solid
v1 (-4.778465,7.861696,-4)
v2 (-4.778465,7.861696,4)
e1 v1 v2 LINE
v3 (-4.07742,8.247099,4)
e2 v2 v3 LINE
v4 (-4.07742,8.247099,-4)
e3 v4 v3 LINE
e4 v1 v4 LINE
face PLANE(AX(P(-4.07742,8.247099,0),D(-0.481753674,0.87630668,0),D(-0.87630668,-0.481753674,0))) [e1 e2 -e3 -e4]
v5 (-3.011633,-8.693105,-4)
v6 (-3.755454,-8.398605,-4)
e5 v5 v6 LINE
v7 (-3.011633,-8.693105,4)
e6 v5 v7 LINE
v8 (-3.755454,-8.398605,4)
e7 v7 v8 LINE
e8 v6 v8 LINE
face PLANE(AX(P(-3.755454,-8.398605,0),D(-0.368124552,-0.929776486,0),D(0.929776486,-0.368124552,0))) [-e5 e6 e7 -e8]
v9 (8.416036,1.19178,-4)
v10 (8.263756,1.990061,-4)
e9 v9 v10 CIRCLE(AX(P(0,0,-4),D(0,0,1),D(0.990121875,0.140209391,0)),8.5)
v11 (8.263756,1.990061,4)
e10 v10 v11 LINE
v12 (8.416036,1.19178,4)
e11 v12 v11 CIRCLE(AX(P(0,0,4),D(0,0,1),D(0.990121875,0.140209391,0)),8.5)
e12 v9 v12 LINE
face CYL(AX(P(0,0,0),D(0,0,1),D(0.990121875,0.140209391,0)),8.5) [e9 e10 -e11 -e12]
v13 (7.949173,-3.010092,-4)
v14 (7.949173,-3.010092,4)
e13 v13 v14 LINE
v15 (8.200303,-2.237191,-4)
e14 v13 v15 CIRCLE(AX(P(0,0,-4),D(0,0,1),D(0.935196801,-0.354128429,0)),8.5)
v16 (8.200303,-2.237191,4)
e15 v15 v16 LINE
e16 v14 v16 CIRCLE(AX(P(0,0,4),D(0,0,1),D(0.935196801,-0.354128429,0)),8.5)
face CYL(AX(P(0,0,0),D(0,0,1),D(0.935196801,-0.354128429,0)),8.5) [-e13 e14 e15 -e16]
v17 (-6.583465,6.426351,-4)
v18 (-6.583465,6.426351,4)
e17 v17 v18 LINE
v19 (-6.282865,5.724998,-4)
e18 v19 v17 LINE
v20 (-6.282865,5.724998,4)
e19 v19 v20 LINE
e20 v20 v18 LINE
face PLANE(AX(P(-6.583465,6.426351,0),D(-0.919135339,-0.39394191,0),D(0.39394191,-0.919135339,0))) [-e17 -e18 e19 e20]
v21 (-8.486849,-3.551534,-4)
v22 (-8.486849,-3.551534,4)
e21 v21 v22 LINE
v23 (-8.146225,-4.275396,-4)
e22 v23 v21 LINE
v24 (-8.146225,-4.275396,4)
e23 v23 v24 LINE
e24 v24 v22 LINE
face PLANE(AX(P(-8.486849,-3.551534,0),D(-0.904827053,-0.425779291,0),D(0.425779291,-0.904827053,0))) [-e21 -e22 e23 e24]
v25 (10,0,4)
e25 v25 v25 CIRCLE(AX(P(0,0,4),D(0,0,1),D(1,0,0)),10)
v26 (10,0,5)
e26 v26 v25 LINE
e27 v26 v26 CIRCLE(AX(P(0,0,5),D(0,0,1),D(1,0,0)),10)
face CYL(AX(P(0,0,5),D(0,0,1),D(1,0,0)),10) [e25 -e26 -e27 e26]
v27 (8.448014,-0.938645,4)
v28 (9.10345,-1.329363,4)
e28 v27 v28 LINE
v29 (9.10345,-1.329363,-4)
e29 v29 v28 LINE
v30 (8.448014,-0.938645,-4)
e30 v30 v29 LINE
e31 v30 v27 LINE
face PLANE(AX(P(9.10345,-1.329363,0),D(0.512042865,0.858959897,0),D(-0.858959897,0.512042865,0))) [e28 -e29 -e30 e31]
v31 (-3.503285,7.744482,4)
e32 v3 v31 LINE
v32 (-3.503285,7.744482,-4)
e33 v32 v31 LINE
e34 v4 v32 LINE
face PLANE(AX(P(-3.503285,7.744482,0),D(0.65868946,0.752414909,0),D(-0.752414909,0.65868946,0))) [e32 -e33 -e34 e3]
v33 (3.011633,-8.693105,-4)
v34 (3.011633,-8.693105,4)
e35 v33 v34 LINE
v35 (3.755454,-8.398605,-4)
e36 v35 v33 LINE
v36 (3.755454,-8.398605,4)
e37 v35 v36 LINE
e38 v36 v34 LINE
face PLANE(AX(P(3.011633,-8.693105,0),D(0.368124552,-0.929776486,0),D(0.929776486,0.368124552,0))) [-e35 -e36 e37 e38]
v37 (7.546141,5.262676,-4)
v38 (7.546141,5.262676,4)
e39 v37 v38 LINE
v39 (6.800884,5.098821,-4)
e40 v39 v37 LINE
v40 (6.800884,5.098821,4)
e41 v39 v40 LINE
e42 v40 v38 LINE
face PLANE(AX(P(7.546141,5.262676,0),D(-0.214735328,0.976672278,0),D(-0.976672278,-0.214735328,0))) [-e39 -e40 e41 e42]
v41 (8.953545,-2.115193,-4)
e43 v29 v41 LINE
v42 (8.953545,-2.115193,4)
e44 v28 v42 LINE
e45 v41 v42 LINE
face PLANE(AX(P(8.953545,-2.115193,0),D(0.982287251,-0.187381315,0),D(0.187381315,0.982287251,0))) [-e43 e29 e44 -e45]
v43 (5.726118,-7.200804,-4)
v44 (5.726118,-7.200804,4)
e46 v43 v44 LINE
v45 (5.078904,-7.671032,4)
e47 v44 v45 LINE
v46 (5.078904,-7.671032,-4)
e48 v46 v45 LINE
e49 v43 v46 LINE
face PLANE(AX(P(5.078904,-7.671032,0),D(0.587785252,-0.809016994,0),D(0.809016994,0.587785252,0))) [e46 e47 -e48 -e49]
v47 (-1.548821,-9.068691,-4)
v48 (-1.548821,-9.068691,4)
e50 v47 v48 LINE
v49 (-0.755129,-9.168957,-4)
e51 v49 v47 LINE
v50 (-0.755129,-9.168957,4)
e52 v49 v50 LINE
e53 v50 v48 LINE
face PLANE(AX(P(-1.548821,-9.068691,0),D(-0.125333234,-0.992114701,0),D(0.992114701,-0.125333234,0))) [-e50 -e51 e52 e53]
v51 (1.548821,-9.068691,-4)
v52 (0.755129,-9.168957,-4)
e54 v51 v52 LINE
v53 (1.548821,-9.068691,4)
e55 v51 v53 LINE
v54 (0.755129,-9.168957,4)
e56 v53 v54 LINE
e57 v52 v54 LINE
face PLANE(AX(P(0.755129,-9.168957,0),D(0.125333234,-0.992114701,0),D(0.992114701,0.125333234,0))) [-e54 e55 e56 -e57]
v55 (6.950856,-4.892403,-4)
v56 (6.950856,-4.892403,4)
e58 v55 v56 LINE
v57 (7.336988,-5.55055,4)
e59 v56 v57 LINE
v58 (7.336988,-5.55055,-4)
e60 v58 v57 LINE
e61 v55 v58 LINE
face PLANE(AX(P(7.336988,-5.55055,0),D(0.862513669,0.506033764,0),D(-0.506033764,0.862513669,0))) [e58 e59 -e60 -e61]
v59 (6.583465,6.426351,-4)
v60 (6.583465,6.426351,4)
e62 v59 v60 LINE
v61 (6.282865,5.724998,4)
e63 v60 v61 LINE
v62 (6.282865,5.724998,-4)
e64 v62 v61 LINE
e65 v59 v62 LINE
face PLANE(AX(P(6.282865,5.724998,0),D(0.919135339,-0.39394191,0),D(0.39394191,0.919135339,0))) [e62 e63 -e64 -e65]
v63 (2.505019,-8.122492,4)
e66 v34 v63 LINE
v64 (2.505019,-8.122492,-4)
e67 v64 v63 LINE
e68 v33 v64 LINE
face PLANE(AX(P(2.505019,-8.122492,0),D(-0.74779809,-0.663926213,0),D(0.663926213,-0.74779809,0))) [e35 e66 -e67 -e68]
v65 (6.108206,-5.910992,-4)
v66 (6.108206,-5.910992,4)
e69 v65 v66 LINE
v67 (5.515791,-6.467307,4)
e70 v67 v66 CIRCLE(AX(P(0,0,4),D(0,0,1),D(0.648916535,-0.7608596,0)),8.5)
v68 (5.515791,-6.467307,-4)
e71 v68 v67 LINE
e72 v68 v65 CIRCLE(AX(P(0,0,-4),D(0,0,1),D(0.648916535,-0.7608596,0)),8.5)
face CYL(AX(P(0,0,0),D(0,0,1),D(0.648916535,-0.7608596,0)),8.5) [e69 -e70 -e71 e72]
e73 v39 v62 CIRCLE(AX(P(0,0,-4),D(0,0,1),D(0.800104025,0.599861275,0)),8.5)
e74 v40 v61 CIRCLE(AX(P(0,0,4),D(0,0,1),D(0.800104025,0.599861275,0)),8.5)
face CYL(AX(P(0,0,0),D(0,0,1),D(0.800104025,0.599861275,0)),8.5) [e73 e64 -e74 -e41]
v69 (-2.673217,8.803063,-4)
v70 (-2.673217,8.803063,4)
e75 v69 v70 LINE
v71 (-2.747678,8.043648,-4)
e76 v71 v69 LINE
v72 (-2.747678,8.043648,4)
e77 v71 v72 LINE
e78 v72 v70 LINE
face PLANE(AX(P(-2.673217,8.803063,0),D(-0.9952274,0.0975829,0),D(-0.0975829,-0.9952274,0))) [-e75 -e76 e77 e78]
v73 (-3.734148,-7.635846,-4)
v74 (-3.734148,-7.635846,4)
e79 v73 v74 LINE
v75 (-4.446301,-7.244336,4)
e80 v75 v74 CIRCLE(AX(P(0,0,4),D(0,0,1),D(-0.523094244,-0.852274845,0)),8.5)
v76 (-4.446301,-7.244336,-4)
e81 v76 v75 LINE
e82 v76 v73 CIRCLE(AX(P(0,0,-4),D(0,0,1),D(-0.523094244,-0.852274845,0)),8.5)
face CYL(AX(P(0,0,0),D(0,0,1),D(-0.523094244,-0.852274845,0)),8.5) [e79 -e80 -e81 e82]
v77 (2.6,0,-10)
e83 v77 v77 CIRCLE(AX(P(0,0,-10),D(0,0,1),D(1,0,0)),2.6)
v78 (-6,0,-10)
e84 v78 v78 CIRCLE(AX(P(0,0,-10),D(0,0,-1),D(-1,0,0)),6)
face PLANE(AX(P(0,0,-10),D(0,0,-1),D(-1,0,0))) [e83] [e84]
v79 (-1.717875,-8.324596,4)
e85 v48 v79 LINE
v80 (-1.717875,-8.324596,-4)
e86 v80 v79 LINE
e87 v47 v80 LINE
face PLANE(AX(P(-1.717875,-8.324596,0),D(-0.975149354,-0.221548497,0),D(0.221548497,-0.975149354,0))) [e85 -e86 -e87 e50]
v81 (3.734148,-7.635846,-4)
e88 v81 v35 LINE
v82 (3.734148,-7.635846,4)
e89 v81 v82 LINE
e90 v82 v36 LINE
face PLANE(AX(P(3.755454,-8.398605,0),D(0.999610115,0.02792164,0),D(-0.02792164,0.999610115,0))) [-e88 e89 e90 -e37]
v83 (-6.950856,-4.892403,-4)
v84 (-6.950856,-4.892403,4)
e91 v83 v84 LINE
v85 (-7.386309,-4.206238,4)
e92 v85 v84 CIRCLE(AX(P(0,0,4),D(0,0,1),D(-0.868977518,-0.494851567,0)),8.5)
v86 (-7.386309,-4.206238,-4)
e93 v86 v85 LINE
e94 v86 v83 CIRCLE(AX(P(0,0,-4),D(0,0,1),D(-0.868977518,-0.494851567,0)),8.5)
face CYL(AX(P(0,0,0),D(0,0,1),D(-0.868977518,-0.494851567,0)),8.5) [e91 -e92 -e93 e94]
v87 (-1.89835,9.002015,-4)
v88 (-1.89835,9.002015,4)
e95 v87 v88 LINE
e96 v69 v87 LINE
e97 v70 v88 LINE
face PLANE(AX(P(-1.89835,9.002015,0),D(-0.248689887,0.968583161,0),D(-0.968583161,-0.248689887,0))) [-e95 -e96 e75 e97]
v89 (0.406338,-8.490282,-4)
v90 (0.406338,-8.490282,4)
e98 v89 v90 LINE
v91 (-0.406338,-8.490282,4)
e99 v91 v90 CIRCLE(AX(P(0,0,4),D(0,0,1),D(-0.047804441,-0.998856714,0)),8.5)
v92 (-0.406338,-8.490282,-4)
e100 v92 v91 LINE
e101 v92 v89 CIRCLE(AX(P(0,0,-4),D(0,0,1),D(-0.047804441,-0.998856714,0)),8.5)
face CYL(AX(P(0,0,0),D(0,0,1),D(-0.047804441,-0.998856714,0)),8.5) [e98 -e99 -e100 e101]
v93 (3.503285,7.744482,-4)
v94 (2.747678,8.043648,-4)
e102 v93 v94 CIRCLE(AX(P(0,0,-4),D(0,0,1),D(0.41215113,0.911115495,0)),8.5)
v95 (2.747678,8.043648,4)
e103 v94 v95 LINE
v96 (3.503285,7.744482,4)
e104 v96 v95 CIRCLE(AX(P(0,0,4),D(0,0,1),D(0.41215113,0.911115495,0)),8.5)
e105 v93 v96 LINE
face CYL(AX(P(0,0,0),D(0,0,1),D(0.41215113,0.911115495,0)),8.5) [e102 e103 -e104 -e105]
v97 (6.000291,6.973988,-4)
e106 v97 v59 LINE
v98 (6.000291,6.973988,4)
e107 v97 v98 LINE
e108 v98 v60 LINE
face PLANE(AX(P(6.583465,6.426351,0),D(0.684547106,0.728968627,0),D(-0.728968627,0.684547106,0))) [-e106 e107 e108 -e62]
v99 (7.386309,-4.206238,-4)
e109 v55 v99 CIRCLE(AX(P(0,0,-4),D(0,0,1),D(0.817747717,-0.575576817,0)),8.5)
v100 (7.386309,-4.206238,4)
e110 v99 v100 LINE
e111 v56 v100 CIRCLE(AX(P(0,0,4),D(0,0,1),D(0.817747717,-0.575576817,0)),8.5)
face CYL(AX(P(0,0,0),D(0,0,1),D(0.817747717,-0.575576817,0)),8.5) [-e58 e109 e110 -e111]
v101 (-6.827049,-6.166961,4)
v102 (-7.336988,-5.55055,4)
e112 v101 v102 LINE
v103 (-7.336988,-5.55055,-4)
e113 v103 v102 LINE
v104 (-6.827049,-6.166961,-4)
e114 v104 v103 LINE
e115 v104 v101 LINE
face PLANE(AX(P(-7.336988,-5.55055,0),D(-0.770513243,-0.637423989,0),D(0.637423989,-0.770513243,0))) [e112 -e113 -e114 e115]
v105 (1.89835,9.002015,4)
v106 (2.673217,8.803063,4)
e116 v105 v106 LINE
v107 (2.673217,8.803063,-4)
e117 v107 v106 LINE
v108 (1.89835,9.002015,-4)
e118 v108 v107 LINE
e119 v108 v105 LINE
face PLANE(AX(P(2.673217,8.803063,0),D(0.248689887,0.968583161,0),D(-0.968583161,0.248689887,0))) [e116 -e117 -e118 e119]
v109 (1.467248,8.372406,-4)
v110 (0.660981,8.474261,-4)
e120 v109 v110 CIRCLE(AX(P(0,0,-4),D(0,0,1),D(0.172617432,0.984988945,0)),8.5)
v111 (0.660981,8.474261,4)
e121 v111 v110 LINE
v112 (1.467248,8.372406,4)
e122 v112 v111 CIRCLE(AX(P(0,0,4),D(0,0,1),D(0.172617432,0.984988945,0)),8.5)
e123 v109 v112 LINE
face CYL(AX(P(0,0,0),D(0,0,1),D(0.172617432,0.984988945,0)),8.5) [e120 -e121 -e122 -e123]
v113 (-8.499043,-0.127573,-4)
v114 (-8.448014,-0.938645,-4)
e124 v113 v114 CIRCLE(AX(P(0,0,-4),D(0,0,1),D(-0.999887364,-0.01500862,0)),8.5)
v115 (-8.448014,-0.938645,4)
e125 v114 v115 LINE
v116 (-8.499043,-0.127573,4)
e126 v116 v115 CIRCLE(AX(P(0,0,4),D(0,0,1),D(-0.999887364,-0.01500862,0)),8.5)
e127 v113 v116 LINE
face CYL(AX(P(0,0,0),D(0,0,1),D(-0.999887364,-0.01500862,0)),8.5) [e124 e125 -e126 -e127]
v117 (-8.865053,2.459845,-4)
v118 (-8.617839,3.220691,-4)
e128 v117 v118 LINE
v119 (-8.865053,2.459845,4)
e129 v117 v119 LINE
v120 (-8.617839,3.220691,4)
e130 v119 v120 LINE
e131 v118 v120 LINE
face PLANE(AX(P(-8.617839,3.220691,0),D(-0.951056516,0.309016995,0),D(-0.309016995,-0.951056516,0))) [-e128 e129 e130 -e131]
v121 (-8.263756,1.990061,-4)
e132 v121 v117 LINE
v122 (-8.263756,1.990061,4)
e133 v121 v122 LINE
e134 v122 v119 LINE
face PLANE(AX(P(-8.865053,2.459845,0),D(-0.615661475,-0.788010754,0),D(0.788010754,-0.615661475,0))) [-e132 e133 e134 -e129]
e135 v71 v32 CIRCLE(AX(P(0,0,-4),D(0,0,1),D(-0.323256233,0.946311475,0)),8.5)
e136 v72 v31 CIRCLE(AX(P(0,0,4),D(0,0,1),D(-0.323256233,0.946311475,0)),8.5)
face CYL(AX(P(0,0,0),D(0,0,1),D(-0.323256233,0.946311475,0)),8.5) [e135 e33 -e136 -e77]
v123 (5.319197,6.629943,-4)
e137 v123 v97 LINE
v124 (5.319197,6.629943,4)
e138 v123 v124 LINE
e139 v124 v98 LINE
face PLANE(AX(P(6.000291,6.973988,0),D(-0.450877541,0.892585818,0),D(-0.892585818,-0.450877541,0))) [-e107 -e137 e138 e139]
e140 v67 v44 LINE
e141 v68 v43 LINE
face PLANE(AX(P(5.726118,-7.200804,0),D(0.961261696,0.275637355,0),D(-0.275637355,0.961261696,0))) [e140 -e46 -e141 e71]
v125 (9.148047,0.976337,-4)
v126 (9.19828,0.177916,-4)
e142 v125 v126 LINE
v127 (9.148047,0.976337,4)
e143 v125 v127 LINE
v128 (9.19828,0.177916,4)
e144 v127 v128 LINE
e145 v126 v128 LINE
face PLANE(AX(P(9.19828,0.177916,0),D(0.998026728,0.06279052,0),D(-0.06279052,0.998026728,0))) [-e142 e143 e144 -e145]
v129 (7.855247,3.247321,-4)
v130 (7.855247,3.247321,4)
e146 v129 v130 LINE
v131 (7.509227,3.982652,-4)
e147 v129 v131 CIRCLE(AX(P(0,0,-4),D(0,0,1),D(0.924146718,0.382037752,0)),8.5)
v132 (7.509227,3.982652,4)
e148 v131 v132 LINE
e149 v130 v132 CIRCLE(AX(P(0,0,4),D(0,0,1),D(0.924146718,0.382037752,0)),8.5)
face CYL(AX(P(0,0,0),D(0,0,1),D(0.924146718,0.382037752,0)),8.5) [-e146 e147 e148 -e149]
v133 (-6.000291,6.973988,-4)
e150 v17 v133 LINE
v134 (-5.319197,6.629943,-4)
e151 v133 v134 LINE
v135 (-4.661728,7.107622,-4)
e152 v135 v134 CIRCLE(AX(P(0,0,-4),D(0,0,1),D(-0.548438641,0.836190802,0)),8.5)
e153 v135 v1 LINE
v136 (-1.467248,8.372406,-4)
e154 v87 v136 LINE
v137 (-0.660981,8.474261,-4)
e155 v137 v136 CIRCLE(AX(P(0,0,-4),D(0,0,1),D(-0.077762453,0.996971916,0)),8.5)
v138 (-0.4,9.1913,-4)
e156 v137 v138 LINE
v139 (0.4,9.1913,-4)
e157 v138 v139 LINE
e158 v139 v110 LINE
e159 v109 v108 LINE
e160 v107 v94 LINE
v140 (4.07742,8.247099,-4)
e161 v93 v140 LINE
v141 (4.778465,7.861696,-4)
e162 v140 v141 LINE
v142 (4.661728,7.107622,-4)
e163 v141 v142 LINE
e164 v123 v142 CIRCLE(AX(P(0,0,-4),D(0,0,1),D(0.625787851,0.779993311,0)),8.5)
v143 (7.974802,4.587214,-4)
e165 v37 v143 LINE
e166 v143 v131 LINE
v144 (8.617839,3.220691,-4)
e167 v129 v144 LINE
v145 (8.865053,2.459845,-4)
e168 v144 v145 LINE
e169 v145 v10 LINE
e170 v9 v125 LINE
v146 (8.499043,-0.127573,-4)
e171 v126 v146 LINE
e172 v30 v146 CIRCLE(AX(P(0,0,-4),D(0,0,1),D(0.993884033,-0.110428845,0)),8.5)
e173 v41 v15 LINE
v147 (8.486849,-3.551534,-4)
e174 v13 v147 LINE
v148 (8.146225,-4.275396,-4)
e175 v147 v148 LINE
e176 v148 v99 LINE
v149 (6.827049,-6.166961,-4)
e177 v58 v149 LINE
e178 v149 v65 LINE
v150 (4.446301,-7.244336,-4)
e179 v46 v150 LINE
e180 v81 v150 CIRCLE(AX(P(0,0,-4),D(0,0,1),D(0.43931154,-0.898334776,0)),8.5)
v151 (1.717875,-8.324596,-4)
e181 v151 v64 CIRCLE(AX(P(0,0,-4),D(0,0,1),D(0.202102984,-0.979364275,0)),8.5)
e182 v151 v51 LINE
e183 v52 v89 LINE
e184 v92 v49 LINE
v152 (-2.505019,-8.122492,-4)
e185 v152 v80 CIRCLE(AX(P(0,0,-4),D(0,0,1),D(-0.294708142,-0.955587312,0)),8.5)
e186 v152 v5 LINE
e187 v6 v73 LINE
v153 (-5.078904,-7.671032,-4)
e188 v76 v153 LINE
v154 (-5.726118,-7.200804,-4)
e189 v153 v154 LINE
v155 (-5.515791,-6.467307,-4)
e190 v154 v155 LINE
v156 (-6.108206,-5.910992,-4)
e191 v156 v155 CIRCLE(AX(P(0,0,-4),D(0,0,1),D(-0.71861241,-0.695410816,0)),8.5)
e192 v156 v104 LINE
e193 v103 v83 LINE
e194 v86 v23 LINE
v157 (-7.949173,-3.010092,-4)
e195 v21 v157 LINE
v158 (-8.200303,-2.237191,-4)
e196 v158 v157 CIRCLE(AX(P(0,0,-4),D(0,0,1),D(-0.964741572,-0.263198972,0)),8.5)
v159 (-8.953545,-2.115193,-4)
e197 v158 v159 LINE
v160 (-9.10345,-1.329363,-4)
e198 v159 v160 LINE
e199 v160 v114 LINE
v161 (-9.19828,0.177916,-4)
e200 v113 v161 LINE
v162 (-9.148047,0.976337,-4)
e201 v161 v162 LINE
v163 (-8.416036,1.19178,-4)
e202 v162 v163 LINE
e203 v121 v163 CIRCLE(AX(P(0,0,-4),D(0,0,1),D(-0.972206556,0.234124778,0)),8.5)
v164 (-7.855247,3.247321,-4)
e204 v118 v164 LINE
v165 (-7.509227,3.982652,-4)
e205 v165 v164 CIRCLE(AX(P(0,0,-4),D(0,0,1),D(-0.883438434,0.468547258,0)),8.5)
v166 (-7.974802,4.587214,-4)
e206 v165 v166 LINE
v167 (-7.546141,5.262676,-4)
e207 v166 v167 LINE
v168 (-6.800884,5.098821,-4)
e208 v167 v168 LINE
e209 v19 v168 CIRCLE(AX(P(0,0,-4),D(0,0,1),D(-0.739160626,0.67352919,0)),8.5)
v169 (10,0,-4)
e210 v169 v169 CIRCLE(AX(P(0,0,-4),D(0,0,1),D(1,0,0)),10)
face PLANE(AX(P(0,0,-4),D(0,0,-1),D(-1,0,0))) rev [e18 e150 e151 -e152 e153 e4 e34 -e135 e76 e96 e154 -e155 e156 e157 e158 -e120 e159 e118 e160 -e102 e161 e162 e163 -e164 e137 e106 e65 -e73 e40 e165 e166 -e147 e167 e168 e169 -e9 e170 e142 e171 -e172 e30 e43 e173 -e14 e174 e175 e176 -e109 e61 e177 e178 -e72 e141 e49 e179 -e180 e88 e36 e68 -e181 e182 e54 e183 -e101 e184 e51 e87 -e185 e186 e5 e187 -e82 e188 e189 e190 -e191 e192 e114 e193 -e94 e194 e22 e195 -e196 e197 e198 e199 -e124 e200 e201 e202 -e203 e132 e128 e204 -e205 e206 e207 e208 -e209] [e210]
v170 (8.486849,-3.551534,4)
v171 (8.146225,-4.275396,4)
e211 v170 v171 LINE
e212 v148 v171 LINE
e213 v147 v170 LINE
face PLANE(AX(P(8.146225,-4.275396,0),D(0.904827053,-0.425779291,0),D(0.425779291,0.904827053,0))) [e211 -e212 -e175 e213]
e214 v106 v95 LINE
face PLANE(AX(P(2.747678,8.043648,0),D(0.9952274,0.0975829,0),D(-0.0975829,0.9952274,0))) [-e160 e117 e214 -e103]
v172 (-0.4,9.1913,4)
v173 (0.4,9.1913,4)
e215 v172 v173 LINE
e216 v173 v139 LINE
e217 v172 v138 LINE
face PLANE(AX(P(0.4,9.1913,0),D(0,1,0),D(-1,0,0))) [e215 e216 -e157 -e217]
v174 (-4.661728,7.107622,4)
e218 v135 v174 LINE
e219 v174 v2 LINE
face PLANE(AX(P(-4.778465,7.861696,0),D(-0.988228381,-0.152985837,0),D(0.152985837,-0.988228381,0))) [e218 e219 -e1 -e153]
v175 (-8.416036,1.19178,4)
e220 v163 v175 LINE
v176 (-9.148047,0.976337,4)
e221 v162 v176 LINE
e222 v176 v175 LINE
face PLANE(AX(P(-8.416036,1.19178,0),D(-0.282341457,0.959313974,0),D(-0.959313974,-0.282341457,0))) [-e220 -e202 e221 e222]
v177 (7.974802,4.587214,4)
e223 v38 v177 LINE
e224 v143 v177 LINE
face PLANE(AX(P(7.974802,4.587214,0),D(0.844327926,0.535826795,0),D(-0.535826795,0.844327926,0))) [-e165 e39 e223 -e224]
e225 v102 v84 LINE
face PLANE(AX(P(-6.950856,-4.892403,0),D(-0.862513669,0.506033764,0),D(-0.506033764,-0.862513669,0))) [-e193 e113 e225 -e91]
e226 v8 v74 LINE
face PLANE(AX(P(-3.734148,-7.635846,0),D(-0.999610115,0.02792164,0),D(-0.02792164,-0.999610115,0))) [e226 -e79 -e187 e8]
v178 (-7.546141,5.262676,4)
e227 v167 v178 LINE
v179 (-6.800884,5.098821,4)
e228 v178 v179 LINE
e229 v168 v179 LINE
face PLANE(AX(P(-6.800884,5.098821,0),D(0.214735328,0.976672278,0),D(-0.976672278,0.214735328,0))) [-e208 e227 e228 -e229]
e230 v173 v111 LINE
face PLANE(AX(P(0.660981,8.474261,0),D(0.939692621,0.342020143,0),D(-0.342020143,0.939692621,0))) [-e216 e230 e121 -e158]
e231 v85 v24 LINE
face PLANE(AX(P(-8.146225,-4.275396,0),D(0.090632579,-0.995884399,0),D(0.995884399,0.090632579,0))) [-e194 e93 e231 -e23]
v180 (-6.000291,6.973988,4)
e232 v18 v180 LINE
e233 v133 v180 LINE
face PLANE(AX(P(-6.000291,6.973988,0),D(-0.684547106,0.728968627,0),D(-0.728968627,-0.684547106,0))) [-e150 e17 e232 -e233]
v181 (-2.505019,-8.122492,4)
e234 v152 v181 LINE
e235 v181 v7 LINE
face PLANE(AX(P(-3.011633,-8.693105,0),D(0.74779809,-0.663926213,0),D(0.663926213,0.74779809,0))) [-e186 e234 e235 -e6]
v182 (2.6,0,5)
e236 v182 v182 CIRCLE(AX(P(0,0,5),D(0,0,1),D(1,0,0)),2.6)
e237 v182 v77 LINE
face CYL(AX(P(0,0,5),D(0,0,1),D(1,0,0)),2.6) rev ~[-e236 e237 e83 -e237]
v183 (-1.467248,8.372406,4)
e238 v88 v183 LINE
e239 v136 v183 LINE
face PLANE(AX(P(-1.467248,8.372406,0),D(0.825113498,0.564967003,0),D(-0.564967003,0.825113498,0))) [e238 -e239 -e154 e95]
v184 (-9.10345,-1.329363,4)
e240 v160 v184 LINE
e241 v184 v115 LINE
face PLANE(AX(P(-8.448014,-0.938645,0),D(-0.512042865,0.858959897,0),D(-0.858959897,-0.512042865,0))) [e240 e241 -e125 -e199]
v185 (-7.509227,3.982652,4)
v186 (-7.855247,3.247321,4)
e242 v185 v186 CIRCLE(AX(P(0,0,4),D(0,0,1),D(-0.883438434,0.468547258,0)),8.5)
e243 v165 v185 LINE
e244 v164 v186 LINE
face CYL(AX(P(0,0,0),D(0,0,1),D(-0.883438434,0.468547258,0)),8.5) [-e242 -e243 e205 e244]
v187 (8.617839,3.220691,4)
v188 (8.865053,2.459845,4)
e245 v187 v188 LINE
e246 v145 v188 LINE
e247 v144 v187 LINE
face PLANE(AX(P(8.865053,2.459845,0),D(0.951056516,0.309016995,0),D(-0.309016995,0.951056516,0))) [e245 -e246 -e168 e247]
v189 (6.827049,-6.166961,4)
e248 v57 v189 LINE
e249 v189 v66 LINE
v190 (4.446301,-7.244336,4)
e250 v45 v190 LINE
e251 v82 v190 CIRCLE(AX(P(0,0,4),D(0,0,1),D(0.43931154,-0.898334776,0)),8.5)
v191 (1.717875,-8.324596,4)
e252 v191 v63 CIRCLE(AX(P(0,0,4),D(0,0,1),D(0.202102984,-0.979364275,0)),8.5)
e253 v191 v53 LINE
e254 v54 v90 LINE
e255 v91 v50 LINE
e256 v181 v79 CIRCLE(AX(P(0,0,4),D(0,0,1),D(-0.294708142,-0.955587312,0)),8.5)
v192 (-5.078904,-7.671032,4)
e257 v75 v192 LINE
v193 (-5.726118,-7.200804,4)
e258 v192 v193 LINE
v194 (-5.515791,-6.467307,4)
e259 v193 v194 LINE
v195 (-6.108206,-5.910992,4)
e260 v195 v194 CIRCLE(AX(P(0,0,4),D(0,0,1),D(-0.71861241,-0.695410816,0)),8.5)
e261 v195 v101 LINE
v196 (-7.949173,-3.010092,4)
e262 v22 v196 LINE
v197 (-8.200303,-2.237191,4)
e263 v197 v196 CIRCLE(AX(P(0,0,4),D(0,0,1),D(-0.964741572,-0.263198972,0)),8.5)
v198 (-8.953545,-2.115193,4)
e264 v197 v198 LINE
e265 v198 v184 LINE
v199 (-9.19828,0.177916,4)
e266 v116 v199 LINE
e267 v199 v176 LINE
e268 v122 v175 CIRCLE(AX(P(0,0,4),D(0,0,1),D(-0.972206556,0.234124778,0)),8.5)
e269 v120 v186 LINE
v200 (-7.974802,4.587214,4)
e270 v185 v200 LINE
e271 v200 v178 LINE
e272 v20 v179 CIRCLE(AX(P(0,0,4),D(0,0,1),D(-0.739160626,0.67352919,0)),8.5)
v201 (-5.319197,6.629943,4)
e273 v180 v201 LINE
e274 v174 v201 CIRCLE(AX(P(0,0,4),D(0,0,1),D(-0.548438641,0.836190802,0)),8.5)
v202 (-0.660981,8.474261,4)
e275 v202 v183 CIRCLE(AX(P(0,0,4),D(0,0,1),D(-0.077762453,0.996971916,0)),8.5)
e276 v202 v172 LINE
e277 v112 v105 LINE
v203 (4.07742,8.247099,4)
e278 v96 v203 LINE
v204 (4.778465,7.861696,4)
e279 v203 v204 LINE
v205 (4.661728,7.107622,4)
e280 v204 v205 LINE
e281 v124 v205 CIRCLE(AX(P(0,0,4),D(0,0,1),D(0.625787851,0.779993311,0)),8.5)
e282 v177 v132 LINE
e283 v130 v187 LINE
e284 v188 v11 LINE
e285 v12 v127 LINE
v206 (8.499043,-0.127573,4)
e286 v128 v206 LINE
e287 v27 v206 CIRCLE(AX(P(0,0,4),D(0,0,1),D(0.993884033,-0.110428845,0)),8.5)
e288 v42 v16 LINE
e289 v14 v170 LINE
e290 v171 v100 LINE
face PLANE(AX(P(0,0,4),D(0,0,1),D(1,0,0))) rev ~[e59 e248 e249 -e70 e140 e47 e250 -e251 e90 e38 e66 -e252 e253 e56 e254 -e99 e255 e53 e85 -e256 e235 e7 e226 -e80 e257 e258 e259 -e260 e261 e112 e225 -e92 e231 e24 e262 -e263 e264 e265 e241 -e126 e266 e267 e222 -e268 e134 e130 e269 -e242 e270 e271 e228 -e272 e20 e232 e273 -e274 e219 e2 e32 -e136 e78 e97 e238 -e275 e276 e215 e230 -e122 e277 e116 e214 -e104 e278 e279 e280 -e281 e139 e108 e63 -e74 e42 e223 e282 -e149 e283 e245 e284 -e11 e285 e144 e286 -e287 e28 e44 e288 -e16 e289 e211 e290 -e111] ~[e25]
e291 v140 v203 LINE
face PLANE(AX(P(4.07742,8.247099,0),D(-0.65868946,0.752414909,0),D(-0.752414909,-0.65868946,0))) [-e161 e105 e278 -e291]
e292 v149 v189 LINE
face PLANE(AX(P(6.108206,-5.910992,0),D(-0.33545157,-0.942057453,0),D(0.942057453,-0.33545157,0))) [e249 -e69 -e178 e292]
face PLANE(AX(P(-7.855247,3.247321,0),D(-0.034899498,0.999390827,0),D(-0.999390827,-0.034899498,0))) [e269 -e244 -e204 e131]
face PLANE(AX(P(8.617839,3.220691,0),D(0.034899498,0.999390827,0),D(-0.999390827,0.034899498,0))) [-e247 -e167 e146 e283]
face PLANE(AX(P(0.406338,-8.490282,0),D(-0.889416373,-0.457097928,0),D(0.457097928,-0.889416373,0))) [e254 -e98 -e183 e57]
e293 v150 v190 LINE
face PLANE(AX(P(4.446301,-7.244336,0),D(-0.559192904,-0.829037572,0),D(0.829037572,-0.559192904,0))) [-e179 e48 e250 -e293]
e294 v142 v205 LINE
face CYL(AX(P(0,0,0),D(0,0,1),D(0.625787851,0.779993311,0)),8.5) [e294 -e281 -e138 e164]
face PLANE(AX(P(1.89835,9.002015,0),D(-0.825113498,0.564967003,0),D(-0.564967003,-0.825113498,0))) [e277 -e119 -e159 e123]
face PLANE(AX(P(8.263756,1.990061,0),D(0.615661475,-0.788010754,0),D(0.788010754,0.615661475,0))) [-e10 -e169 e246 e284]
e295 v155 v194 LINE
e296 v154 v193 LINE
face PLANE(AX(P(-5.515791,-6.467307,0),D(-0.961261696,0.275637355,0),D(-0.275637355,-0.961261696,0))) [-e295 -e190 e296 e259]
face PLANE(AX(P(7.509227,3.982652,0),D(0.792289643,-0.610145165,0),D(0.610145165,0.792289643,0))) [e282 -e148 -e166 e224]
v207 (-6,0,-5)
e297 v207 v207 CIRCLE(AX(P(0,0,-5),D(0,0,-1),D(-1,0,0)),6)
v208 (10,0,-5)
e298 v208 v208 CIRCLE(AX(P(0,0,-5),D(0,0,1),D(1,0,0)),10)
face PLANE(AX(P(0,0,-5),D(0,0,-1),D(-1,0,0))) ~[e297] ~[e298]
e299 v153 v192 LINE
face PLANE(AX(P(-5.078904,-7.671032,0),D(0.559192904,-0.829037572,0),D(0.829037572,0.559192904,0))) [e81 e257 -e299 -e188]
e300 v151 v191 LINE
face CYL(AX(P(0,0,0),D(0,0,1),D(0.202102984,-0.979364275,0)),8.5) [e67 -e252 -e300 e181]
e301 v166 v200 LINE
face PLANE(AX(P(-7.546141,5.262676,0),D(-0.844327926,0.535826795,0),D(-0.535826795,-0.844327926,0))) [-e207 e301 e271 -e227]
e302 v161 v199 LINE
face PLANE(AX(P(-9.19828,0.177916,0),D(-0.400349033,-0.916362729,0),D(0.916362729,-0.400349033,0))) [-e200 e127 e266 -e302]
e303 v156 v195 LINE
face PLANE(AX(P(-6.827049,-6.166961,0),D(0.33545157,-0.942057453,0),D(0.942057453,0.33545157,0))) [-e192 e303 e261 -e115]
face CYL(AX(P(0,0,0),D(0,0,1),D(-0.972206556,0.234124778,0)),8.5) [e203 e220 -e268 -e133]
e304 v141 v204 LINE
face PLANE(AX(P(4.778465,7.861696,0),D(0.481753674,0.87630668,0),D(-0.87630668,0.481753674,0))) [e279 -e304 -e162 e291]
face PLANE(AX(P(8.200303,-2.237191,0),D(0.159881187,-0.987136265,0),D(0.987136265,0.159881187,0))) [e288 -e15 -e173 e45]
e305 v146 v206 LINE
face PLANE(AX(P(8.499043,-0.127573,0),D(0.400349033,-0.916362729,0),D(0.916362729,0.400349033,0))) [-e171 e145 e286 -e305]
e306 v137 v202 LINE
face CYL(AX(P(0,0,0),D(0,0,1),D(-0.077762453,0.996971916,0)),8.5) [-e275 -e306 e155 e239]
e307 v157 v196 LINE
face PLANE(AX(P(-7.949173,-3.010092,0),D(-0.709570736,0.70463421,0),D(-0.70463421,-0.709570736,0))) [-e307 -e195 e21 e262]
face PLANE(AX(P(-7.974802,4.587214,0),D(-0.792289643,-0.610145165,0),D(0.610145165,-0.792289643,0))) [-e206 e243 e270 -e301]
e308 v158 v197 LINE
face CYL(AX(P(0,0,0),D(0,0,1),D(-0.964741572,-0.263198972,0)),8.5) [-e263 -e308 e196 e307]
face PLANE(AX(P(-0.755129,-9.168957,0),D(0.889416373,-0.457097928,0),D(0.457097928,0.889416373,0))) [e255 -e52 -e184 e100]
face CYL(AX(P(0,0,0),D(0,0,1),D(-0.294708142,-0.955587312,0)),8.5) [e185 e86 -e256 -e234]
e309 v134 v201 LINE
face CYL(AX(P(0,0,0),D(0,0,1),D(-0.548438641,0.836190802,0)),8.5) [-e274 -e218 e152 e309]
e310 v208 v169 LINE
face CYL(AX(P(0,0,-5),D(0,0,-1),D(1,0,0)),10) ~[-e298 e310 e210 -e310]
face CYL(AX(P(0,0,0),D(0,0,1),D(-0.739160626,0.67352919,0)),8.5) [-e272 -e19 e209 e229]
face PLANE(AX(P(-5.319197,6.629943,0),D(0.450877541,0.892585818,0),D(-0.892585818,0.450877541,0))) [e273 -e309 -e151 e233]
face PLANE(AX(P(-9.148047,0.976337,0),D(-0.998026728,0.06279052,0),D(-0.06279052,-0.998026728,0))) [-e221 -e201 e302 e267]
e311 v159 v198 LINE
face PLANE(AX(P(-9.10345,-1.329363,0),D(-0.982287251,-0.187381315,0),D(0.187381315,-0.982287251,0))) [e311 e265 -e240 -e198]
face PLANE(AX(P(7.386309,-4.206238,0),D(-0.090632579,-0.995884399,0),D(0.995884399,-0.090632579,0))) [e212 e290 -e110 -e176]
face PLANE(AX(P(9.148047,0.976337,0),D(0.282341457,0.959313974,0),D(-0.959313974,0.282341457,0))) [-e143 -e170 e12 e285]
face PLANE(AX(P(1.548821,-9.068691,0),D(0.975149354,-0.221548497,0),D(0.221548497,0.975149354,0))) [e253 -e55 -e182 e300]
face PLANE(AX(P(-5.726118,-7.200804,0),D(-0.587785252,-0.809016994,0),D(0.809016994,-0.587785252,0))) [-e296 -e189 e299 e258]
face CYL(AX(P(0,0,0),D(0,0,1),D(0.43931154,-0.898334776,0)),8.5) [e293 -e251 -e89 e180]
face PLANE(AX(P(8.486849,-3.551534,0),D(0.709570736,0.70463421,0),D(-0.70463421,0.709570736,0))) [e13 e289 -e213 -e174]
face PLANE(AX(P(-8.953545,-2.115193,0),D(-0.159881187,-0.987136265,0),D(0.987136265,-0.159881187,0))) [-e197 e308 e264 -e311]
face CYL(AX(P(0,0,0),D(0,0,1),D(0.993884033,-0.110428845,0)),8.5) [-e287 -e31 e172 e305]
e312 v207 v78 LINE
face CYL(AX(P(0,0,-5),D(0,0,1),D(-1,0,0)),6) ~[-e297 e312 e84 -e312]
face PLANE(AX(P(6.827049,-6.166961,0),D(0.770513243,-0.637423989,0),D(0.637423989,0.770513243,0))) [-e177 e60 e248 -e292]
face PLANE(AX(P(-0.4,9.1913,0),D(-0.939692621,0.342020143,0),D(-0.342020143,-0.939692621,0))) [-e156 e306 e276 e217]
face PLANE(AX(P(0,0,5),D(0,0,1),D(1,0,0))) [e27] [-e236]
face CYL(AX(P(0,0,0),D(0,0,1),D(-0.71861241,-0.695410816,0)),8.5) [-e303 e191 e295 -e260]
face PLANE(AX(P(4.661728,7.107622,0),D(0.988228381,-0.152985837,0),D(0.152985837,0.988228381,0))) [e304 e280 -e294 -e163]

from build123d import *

# Parameters (mm, degrees)
BOSS_EXTRUDE1_DEPTH = 5
SKETCH2_R           = 10
BOSS_EXTRUDE2_DEPTH = 1
SKETCH4_R           = 6
BOSS_EXTRUDE3_DEPTH = 5
CUT_EXTRUDE1_REACH  = 22.616
SKETCH5_R           = 2.6


with BuildPart() as part:
    # Sketch1 → Boss-Extrude1 (new, symmetric)
    with BuildSketch(Plane.XY):
        with BuildLine():
            Line((-0.4, 9.191300234), (-0.660980834, 8.474261286))
            ThreePointArc((-0.660980834, 8.474261286), (-1.065332485, 8.432974961), (-1.467248177, 8.372406033))
            Line((-1.467248177, 8.372406033), (-1.898350154, 9.002014591))
            Line((-1.898350154, 9.002014591), (-2.673216683, 8.803062681))
            Line((-2.673216683, 8.803062681), (-2.747677989, 8.043647535))
            ThreePointArc((-2.747677989, 8.043647535), (-3.129058698, 7.90310013), (-3.503284589, 7.744481718))
            Line((-3.503284589, 7.744481718), (-4.077419986, 8.247099263))
            Line((-4.077419986, 8.247099263), (-4.77846533, 7.861696324))
            Line((-4.77846533, 7.861696324), (-4.66172843, 7.107621828))
            ThreePointArc((-4.66172843, 7.107621828), (-4.996174644, 6.876644452), (-5.319196746, 6.629943135))
            Line((-5.319196746, 6.629943135), (-6.000290524, 6.973988359))
            Line((-6.000290524, 6.973988359), (-6.583465426, 6.426350674))
            Line((-6.583465426, 6.426350674), (-6.282865329, 5.724998101))
            ThreePointArc((-6.282865329, 5.724998101), (-6.549362564, 5.418103913), (-6.80088421, 5.098820841))
            Line((-6.80088421, 5.098820841), (-7.546140742, 5.262676117))
            Line((-7.546140742, 5.262676117), (-7.974802178, 4.587213776))
            Line((-7.974802178, 4.587213776), (-7.509226693, 3.982651688))
            ThreePointArc((-7.509226693, 3.982651688), (-7.691029946, 3.619123978), (-7.855247106, 3.247320882))
            Line((-7.855247106, 3.247320882), (-8.617839183, 3.220690579))
            Line((-8.617839183, 3.220690579), (-8.865052779, 2.459845366))
            Line((-8.865052779, 2.459845366), (-8.263755727, 1.990060623))
            ThreePointArc((-8.263755727, 1.990060623), (-8.349441631, 1.592741174), (-8.416035937, 1.191779808))
            Line((-8.416035937, 1.191779808), (-9.148047095, 0.976337208))
            Line((-9.148047095, 0.976337208), (-9.198279511, 0.177915826))
            Line((-9.198279511, 0.177915826), (-8.499042597, -0.127573271))
            ThreePointArc((-8.499042597, -0.127573271), (-8.483227192, -0.533719416), (-8.448014278, -0.938645173))
            Line((-8.448014278, -0.938645173), (-9.103449564, -1.32936302))
            Line((-9.103449564, -1.32936302), (-8.953544512, -2.115192821))
            Line((-8.953544512, -2.115192821), (-8.200303363, -2.237191266))
            ThreePointArc((-8.200303363, -2.237191266), (-8.083980389, -2.626644452), (-7.949172812, -3.010091627))
            Line((-7.949172812, -3.010091627), (-8.486848816, -3.551534481))
            Line((-8.486848816, -3.551534481), (-8.146225383, -4.275396123))
            Line((-8.146225383, -4.275396123), (-7.38630891, -4.206238307))
            ThreePointArc((-7.38630891, -4.206238307), (-7.176787367, -4.554527757), (-6.950855584, -4.892402953))
            Line((-6.950855584, -4.892402953), (-7.336988145, -5.550549969))
            Line((-7.336988145, -5.550549969), (-6.827048953, -6.166960564))
            Line((-6.827048953, -6.166960564), (-6.108205503, -5.910991925))
            ThreePointArc((-6.108205503, -5.910991925), (-5.8186504, -6.196233333), (-5.515790536, -6.467306608))
            Line((-5.515790536, -6.467306608), (-5.726117525, -7.200803989))
            Line((-5.726117525, -7.200803989), (-5.078903929, -7.671032191))
            Line((-5.078903929, -7.671032191), (-4.44630108, -7.244336181))
            ThreePointArc((-4.44630108, -7.244336181), (-4.09490623, -7.44860678), (-3.734148082, -7.635845605))
            Line((-3.734148082, -7.635845605), (-3.755453882, -8.398605012))
            Line((-3.755453882, -8.398605012), (-3.011632693, -8.693104654))
            Line((-3.011632693, -8.693104654), (-2.505019208, -8.122492153))
            ThreePointArc((-2.505019208, -8.122492153), (-2.113864041, -8.23295687), (-1.717875372, -8.324596339))
            Line((-1.717875372, -8.324596339), (-1.54882126, -9.068690793))
            Line((-1.54882126, -9.068690793), (-0.755129499, -9.16895738))
            Line((-0.755129499, -9.16895738), (-0.406337766, -8.49028207))
            ThreePointArc((-0.406337766, -8.49028207), (0, -8.5), (0.406337766, -8.49028207))
            Line((0.406337766, -8.49028207), (0.755129499, -9.16895738))
            Line((0.755129499, -9.16895738), (1.54882126, -9.068690793))
            Line((1.54882126, -9.068690793), (1.717875372, -8.324596339))
            ThreePointArc((1.717875372, -8.324596339), (2.113864041, -8.23295687), (2.505019208, -8.122492153))
            Line((2.505019208, -8.122492153), (3.011632693, -8.693104654))
            Line((3.011632693, -8.693104654), (3.755453882, -8.398605012))
            Line((3.755453882, -8.398605012), (3.734148082, -7.635845605))
            ThreePointArc((3.734148082, -7.635845605), (4.09490623, -7.44860678), (4.44630108, -7.244336181))
            Line((4.44630108, -7.244336181), (5.078903929, -7.671032191))
            Line((5.078903929, -7.671032191), (5.726117525, -7.200803989))
            Line((5.726117525, -7.200803989), (5.515790536, -6.467306608))
            ThreePointArc((5.515790536, -6.467306608), (5.8186504, -6.196233333), (6.108205503, -5.910991925))
            Line((6.108205503, -5.910991925), (6.827048953, -6.166960564))
            Line((6.827048953, -6.166960564), (7.336988145, -5.550549969))
            Line((7.336988145, -5.550549969), (6.950855584, -4.892402953))
            ThreePointArc((6.950855584, -4.892402953), (7.176787367, -4.554527757), (7.38630891, -4.206238307))
            Line((7.38630891, -4.206238307), (8.146225383, -4.275396123))
            Line((8.146225383, -4.275396123), (8.486848816, -3.551534481))
            Line((8.486848816, -3.551534481), (7.949172812, -3.010091627))
            ThreePointArc((7.949172812, -3.010091627), (8.083980389, -2.626644452), (8.200303363, -2.237191266))
            Line((8.200303363, -2.237191266), (8.953544512, -2.115192821))
            Line((8.953544512, -2.115192821), (9.103449564, -1.32936302))
            Line((9.103449564, -1.32936302), (8.448014278, -0.938645173))
            ThreePointArc((8.448014278, -0.938645173), (8.483227192, -0.533719416), (8.499042597, -0.127573271))
            Line((8.499042597, -0.127573271), (9.198279511, 0.177915826))
            Line((9.198279511, 0.177915826), (9.148047095, 0.976337208))
            Line((9.148047095, 0.976337208), (8.416035937, 1.191779808))
            ThreePointArc((8.416035937, 1.191779808), (8.349441631, 1.592741174), (8.263755727, 1.990060623))
            Line((8.263755727, 1.990060623), (8.865052779, 2.459845366))
            Line((8.865052779, 2.459845366), (8.617839183, 3.220690579))
            Line((8.617839183, 3.220690579), (7.855247106, 3.247320882))
            ThreePointArc((7.855247106, 3.247320882), (7.691029946, 3.619123978), (7.509226693, 3.982651688))
            Line((7.509226693, 3.982651688), (7.974802178, 4.587213776))
            Line((7.974802178, 4.587213776), (7.546140742, 5.262676117))
            Line((7.546140742, 5.262676117), (6.80088421, 5.098820841))
            ThreePointArc((6.80088421, 5.098820841), (6.549362564, 5.418103913), (6.282865329, 5.724998101))
            Line((6.282865329, 5.724998101), (6.583465426, 6.426350674))
            Line((6.583465426, 6.426350674), (6.000290524, 6.973988359))
            Line((6.000290524, 6.973988359), (5.319196746, 6.629943135))
            ThreePointArc((5.319196746, 6.629943135), (4.996174644, 6.876644452), (4.66172843, 7.107621828))
            Line((4.66172843, 7.107621828), (4.77846533, 7.861696324))
            Line((4.77846533, 7.861696324), (4.077419986, 8.247099263))
            Line((4.077419986, 8.247099263), (3.503284589, 7.744481718))
            ThreePointArc((3.503284589, 7.744481718), (3.129058698, 7.90310013), (2.747677989, 8.043647535))
            Line((2.747677989, 8.043647535), (2.673216683, 8.803062681))
            Line((2.673216683, 8.803062681), (1.898350154, 9.002014591))
            Line((1.898350154, 9.002014591), (1.467248177, 8.372406033))
            ThreePointArc((1.467248177, 8.372406033), (1.065332485, 8.432974961), (0.660980834, 8.474261286))
            Line((0.660980834, 8.474261286), (0.4, 9.191300234))
            Line((0.4, 9.191300234), (-0.4, 9.191300234))
        make_face()
    extrude(amount=BOSS_EXTRUDE1_DEPTH, both=True)

    # Sketch2 → Boss-Extrude2 (add)
    with BuildSketch(Plane.XY.offset(5)):
        Circle(SKETCH2_R)
    boss_extrude2 = extrude(amount=-BOSS_EXTRUDE2_DEPTH)

    # Mirror1: Boss-Extrude2 across plane
    add(boss_extrude2.mirror(Plane.XY))

    # Sketch4 → Boss-Extrude3 (add)
    with BuildSketch(Plane(origin=(0, 0, -5), x_dir=(-1, 0, 0), z_dir=(0, 0, -1))):
        Circle(SKETCH4_R)
    extrude(amount=BOSS_EXTRUDE3_DEPTH)

    # Sketch5 → Cut-Extrude1 (cut, up to next)
    with BuildSketch(Plane.XY.offset(5), mode=Mode.PRIVATE) as cut_extrude1_sk1:
        Circle(SKETCH5_R)
    cut_extrude1_tool1 = extrude(cut_extrude1_sk1.sketch, amount=-CUT_EXTRUDE1_REACH, mode=Mode.PRIVATE) & part.part
    add(cut_extrude1_tool1.solids().sort_by_distance((0, 0, 5))[0], mode=Mode.SUBTRACT)


solid = part.part
